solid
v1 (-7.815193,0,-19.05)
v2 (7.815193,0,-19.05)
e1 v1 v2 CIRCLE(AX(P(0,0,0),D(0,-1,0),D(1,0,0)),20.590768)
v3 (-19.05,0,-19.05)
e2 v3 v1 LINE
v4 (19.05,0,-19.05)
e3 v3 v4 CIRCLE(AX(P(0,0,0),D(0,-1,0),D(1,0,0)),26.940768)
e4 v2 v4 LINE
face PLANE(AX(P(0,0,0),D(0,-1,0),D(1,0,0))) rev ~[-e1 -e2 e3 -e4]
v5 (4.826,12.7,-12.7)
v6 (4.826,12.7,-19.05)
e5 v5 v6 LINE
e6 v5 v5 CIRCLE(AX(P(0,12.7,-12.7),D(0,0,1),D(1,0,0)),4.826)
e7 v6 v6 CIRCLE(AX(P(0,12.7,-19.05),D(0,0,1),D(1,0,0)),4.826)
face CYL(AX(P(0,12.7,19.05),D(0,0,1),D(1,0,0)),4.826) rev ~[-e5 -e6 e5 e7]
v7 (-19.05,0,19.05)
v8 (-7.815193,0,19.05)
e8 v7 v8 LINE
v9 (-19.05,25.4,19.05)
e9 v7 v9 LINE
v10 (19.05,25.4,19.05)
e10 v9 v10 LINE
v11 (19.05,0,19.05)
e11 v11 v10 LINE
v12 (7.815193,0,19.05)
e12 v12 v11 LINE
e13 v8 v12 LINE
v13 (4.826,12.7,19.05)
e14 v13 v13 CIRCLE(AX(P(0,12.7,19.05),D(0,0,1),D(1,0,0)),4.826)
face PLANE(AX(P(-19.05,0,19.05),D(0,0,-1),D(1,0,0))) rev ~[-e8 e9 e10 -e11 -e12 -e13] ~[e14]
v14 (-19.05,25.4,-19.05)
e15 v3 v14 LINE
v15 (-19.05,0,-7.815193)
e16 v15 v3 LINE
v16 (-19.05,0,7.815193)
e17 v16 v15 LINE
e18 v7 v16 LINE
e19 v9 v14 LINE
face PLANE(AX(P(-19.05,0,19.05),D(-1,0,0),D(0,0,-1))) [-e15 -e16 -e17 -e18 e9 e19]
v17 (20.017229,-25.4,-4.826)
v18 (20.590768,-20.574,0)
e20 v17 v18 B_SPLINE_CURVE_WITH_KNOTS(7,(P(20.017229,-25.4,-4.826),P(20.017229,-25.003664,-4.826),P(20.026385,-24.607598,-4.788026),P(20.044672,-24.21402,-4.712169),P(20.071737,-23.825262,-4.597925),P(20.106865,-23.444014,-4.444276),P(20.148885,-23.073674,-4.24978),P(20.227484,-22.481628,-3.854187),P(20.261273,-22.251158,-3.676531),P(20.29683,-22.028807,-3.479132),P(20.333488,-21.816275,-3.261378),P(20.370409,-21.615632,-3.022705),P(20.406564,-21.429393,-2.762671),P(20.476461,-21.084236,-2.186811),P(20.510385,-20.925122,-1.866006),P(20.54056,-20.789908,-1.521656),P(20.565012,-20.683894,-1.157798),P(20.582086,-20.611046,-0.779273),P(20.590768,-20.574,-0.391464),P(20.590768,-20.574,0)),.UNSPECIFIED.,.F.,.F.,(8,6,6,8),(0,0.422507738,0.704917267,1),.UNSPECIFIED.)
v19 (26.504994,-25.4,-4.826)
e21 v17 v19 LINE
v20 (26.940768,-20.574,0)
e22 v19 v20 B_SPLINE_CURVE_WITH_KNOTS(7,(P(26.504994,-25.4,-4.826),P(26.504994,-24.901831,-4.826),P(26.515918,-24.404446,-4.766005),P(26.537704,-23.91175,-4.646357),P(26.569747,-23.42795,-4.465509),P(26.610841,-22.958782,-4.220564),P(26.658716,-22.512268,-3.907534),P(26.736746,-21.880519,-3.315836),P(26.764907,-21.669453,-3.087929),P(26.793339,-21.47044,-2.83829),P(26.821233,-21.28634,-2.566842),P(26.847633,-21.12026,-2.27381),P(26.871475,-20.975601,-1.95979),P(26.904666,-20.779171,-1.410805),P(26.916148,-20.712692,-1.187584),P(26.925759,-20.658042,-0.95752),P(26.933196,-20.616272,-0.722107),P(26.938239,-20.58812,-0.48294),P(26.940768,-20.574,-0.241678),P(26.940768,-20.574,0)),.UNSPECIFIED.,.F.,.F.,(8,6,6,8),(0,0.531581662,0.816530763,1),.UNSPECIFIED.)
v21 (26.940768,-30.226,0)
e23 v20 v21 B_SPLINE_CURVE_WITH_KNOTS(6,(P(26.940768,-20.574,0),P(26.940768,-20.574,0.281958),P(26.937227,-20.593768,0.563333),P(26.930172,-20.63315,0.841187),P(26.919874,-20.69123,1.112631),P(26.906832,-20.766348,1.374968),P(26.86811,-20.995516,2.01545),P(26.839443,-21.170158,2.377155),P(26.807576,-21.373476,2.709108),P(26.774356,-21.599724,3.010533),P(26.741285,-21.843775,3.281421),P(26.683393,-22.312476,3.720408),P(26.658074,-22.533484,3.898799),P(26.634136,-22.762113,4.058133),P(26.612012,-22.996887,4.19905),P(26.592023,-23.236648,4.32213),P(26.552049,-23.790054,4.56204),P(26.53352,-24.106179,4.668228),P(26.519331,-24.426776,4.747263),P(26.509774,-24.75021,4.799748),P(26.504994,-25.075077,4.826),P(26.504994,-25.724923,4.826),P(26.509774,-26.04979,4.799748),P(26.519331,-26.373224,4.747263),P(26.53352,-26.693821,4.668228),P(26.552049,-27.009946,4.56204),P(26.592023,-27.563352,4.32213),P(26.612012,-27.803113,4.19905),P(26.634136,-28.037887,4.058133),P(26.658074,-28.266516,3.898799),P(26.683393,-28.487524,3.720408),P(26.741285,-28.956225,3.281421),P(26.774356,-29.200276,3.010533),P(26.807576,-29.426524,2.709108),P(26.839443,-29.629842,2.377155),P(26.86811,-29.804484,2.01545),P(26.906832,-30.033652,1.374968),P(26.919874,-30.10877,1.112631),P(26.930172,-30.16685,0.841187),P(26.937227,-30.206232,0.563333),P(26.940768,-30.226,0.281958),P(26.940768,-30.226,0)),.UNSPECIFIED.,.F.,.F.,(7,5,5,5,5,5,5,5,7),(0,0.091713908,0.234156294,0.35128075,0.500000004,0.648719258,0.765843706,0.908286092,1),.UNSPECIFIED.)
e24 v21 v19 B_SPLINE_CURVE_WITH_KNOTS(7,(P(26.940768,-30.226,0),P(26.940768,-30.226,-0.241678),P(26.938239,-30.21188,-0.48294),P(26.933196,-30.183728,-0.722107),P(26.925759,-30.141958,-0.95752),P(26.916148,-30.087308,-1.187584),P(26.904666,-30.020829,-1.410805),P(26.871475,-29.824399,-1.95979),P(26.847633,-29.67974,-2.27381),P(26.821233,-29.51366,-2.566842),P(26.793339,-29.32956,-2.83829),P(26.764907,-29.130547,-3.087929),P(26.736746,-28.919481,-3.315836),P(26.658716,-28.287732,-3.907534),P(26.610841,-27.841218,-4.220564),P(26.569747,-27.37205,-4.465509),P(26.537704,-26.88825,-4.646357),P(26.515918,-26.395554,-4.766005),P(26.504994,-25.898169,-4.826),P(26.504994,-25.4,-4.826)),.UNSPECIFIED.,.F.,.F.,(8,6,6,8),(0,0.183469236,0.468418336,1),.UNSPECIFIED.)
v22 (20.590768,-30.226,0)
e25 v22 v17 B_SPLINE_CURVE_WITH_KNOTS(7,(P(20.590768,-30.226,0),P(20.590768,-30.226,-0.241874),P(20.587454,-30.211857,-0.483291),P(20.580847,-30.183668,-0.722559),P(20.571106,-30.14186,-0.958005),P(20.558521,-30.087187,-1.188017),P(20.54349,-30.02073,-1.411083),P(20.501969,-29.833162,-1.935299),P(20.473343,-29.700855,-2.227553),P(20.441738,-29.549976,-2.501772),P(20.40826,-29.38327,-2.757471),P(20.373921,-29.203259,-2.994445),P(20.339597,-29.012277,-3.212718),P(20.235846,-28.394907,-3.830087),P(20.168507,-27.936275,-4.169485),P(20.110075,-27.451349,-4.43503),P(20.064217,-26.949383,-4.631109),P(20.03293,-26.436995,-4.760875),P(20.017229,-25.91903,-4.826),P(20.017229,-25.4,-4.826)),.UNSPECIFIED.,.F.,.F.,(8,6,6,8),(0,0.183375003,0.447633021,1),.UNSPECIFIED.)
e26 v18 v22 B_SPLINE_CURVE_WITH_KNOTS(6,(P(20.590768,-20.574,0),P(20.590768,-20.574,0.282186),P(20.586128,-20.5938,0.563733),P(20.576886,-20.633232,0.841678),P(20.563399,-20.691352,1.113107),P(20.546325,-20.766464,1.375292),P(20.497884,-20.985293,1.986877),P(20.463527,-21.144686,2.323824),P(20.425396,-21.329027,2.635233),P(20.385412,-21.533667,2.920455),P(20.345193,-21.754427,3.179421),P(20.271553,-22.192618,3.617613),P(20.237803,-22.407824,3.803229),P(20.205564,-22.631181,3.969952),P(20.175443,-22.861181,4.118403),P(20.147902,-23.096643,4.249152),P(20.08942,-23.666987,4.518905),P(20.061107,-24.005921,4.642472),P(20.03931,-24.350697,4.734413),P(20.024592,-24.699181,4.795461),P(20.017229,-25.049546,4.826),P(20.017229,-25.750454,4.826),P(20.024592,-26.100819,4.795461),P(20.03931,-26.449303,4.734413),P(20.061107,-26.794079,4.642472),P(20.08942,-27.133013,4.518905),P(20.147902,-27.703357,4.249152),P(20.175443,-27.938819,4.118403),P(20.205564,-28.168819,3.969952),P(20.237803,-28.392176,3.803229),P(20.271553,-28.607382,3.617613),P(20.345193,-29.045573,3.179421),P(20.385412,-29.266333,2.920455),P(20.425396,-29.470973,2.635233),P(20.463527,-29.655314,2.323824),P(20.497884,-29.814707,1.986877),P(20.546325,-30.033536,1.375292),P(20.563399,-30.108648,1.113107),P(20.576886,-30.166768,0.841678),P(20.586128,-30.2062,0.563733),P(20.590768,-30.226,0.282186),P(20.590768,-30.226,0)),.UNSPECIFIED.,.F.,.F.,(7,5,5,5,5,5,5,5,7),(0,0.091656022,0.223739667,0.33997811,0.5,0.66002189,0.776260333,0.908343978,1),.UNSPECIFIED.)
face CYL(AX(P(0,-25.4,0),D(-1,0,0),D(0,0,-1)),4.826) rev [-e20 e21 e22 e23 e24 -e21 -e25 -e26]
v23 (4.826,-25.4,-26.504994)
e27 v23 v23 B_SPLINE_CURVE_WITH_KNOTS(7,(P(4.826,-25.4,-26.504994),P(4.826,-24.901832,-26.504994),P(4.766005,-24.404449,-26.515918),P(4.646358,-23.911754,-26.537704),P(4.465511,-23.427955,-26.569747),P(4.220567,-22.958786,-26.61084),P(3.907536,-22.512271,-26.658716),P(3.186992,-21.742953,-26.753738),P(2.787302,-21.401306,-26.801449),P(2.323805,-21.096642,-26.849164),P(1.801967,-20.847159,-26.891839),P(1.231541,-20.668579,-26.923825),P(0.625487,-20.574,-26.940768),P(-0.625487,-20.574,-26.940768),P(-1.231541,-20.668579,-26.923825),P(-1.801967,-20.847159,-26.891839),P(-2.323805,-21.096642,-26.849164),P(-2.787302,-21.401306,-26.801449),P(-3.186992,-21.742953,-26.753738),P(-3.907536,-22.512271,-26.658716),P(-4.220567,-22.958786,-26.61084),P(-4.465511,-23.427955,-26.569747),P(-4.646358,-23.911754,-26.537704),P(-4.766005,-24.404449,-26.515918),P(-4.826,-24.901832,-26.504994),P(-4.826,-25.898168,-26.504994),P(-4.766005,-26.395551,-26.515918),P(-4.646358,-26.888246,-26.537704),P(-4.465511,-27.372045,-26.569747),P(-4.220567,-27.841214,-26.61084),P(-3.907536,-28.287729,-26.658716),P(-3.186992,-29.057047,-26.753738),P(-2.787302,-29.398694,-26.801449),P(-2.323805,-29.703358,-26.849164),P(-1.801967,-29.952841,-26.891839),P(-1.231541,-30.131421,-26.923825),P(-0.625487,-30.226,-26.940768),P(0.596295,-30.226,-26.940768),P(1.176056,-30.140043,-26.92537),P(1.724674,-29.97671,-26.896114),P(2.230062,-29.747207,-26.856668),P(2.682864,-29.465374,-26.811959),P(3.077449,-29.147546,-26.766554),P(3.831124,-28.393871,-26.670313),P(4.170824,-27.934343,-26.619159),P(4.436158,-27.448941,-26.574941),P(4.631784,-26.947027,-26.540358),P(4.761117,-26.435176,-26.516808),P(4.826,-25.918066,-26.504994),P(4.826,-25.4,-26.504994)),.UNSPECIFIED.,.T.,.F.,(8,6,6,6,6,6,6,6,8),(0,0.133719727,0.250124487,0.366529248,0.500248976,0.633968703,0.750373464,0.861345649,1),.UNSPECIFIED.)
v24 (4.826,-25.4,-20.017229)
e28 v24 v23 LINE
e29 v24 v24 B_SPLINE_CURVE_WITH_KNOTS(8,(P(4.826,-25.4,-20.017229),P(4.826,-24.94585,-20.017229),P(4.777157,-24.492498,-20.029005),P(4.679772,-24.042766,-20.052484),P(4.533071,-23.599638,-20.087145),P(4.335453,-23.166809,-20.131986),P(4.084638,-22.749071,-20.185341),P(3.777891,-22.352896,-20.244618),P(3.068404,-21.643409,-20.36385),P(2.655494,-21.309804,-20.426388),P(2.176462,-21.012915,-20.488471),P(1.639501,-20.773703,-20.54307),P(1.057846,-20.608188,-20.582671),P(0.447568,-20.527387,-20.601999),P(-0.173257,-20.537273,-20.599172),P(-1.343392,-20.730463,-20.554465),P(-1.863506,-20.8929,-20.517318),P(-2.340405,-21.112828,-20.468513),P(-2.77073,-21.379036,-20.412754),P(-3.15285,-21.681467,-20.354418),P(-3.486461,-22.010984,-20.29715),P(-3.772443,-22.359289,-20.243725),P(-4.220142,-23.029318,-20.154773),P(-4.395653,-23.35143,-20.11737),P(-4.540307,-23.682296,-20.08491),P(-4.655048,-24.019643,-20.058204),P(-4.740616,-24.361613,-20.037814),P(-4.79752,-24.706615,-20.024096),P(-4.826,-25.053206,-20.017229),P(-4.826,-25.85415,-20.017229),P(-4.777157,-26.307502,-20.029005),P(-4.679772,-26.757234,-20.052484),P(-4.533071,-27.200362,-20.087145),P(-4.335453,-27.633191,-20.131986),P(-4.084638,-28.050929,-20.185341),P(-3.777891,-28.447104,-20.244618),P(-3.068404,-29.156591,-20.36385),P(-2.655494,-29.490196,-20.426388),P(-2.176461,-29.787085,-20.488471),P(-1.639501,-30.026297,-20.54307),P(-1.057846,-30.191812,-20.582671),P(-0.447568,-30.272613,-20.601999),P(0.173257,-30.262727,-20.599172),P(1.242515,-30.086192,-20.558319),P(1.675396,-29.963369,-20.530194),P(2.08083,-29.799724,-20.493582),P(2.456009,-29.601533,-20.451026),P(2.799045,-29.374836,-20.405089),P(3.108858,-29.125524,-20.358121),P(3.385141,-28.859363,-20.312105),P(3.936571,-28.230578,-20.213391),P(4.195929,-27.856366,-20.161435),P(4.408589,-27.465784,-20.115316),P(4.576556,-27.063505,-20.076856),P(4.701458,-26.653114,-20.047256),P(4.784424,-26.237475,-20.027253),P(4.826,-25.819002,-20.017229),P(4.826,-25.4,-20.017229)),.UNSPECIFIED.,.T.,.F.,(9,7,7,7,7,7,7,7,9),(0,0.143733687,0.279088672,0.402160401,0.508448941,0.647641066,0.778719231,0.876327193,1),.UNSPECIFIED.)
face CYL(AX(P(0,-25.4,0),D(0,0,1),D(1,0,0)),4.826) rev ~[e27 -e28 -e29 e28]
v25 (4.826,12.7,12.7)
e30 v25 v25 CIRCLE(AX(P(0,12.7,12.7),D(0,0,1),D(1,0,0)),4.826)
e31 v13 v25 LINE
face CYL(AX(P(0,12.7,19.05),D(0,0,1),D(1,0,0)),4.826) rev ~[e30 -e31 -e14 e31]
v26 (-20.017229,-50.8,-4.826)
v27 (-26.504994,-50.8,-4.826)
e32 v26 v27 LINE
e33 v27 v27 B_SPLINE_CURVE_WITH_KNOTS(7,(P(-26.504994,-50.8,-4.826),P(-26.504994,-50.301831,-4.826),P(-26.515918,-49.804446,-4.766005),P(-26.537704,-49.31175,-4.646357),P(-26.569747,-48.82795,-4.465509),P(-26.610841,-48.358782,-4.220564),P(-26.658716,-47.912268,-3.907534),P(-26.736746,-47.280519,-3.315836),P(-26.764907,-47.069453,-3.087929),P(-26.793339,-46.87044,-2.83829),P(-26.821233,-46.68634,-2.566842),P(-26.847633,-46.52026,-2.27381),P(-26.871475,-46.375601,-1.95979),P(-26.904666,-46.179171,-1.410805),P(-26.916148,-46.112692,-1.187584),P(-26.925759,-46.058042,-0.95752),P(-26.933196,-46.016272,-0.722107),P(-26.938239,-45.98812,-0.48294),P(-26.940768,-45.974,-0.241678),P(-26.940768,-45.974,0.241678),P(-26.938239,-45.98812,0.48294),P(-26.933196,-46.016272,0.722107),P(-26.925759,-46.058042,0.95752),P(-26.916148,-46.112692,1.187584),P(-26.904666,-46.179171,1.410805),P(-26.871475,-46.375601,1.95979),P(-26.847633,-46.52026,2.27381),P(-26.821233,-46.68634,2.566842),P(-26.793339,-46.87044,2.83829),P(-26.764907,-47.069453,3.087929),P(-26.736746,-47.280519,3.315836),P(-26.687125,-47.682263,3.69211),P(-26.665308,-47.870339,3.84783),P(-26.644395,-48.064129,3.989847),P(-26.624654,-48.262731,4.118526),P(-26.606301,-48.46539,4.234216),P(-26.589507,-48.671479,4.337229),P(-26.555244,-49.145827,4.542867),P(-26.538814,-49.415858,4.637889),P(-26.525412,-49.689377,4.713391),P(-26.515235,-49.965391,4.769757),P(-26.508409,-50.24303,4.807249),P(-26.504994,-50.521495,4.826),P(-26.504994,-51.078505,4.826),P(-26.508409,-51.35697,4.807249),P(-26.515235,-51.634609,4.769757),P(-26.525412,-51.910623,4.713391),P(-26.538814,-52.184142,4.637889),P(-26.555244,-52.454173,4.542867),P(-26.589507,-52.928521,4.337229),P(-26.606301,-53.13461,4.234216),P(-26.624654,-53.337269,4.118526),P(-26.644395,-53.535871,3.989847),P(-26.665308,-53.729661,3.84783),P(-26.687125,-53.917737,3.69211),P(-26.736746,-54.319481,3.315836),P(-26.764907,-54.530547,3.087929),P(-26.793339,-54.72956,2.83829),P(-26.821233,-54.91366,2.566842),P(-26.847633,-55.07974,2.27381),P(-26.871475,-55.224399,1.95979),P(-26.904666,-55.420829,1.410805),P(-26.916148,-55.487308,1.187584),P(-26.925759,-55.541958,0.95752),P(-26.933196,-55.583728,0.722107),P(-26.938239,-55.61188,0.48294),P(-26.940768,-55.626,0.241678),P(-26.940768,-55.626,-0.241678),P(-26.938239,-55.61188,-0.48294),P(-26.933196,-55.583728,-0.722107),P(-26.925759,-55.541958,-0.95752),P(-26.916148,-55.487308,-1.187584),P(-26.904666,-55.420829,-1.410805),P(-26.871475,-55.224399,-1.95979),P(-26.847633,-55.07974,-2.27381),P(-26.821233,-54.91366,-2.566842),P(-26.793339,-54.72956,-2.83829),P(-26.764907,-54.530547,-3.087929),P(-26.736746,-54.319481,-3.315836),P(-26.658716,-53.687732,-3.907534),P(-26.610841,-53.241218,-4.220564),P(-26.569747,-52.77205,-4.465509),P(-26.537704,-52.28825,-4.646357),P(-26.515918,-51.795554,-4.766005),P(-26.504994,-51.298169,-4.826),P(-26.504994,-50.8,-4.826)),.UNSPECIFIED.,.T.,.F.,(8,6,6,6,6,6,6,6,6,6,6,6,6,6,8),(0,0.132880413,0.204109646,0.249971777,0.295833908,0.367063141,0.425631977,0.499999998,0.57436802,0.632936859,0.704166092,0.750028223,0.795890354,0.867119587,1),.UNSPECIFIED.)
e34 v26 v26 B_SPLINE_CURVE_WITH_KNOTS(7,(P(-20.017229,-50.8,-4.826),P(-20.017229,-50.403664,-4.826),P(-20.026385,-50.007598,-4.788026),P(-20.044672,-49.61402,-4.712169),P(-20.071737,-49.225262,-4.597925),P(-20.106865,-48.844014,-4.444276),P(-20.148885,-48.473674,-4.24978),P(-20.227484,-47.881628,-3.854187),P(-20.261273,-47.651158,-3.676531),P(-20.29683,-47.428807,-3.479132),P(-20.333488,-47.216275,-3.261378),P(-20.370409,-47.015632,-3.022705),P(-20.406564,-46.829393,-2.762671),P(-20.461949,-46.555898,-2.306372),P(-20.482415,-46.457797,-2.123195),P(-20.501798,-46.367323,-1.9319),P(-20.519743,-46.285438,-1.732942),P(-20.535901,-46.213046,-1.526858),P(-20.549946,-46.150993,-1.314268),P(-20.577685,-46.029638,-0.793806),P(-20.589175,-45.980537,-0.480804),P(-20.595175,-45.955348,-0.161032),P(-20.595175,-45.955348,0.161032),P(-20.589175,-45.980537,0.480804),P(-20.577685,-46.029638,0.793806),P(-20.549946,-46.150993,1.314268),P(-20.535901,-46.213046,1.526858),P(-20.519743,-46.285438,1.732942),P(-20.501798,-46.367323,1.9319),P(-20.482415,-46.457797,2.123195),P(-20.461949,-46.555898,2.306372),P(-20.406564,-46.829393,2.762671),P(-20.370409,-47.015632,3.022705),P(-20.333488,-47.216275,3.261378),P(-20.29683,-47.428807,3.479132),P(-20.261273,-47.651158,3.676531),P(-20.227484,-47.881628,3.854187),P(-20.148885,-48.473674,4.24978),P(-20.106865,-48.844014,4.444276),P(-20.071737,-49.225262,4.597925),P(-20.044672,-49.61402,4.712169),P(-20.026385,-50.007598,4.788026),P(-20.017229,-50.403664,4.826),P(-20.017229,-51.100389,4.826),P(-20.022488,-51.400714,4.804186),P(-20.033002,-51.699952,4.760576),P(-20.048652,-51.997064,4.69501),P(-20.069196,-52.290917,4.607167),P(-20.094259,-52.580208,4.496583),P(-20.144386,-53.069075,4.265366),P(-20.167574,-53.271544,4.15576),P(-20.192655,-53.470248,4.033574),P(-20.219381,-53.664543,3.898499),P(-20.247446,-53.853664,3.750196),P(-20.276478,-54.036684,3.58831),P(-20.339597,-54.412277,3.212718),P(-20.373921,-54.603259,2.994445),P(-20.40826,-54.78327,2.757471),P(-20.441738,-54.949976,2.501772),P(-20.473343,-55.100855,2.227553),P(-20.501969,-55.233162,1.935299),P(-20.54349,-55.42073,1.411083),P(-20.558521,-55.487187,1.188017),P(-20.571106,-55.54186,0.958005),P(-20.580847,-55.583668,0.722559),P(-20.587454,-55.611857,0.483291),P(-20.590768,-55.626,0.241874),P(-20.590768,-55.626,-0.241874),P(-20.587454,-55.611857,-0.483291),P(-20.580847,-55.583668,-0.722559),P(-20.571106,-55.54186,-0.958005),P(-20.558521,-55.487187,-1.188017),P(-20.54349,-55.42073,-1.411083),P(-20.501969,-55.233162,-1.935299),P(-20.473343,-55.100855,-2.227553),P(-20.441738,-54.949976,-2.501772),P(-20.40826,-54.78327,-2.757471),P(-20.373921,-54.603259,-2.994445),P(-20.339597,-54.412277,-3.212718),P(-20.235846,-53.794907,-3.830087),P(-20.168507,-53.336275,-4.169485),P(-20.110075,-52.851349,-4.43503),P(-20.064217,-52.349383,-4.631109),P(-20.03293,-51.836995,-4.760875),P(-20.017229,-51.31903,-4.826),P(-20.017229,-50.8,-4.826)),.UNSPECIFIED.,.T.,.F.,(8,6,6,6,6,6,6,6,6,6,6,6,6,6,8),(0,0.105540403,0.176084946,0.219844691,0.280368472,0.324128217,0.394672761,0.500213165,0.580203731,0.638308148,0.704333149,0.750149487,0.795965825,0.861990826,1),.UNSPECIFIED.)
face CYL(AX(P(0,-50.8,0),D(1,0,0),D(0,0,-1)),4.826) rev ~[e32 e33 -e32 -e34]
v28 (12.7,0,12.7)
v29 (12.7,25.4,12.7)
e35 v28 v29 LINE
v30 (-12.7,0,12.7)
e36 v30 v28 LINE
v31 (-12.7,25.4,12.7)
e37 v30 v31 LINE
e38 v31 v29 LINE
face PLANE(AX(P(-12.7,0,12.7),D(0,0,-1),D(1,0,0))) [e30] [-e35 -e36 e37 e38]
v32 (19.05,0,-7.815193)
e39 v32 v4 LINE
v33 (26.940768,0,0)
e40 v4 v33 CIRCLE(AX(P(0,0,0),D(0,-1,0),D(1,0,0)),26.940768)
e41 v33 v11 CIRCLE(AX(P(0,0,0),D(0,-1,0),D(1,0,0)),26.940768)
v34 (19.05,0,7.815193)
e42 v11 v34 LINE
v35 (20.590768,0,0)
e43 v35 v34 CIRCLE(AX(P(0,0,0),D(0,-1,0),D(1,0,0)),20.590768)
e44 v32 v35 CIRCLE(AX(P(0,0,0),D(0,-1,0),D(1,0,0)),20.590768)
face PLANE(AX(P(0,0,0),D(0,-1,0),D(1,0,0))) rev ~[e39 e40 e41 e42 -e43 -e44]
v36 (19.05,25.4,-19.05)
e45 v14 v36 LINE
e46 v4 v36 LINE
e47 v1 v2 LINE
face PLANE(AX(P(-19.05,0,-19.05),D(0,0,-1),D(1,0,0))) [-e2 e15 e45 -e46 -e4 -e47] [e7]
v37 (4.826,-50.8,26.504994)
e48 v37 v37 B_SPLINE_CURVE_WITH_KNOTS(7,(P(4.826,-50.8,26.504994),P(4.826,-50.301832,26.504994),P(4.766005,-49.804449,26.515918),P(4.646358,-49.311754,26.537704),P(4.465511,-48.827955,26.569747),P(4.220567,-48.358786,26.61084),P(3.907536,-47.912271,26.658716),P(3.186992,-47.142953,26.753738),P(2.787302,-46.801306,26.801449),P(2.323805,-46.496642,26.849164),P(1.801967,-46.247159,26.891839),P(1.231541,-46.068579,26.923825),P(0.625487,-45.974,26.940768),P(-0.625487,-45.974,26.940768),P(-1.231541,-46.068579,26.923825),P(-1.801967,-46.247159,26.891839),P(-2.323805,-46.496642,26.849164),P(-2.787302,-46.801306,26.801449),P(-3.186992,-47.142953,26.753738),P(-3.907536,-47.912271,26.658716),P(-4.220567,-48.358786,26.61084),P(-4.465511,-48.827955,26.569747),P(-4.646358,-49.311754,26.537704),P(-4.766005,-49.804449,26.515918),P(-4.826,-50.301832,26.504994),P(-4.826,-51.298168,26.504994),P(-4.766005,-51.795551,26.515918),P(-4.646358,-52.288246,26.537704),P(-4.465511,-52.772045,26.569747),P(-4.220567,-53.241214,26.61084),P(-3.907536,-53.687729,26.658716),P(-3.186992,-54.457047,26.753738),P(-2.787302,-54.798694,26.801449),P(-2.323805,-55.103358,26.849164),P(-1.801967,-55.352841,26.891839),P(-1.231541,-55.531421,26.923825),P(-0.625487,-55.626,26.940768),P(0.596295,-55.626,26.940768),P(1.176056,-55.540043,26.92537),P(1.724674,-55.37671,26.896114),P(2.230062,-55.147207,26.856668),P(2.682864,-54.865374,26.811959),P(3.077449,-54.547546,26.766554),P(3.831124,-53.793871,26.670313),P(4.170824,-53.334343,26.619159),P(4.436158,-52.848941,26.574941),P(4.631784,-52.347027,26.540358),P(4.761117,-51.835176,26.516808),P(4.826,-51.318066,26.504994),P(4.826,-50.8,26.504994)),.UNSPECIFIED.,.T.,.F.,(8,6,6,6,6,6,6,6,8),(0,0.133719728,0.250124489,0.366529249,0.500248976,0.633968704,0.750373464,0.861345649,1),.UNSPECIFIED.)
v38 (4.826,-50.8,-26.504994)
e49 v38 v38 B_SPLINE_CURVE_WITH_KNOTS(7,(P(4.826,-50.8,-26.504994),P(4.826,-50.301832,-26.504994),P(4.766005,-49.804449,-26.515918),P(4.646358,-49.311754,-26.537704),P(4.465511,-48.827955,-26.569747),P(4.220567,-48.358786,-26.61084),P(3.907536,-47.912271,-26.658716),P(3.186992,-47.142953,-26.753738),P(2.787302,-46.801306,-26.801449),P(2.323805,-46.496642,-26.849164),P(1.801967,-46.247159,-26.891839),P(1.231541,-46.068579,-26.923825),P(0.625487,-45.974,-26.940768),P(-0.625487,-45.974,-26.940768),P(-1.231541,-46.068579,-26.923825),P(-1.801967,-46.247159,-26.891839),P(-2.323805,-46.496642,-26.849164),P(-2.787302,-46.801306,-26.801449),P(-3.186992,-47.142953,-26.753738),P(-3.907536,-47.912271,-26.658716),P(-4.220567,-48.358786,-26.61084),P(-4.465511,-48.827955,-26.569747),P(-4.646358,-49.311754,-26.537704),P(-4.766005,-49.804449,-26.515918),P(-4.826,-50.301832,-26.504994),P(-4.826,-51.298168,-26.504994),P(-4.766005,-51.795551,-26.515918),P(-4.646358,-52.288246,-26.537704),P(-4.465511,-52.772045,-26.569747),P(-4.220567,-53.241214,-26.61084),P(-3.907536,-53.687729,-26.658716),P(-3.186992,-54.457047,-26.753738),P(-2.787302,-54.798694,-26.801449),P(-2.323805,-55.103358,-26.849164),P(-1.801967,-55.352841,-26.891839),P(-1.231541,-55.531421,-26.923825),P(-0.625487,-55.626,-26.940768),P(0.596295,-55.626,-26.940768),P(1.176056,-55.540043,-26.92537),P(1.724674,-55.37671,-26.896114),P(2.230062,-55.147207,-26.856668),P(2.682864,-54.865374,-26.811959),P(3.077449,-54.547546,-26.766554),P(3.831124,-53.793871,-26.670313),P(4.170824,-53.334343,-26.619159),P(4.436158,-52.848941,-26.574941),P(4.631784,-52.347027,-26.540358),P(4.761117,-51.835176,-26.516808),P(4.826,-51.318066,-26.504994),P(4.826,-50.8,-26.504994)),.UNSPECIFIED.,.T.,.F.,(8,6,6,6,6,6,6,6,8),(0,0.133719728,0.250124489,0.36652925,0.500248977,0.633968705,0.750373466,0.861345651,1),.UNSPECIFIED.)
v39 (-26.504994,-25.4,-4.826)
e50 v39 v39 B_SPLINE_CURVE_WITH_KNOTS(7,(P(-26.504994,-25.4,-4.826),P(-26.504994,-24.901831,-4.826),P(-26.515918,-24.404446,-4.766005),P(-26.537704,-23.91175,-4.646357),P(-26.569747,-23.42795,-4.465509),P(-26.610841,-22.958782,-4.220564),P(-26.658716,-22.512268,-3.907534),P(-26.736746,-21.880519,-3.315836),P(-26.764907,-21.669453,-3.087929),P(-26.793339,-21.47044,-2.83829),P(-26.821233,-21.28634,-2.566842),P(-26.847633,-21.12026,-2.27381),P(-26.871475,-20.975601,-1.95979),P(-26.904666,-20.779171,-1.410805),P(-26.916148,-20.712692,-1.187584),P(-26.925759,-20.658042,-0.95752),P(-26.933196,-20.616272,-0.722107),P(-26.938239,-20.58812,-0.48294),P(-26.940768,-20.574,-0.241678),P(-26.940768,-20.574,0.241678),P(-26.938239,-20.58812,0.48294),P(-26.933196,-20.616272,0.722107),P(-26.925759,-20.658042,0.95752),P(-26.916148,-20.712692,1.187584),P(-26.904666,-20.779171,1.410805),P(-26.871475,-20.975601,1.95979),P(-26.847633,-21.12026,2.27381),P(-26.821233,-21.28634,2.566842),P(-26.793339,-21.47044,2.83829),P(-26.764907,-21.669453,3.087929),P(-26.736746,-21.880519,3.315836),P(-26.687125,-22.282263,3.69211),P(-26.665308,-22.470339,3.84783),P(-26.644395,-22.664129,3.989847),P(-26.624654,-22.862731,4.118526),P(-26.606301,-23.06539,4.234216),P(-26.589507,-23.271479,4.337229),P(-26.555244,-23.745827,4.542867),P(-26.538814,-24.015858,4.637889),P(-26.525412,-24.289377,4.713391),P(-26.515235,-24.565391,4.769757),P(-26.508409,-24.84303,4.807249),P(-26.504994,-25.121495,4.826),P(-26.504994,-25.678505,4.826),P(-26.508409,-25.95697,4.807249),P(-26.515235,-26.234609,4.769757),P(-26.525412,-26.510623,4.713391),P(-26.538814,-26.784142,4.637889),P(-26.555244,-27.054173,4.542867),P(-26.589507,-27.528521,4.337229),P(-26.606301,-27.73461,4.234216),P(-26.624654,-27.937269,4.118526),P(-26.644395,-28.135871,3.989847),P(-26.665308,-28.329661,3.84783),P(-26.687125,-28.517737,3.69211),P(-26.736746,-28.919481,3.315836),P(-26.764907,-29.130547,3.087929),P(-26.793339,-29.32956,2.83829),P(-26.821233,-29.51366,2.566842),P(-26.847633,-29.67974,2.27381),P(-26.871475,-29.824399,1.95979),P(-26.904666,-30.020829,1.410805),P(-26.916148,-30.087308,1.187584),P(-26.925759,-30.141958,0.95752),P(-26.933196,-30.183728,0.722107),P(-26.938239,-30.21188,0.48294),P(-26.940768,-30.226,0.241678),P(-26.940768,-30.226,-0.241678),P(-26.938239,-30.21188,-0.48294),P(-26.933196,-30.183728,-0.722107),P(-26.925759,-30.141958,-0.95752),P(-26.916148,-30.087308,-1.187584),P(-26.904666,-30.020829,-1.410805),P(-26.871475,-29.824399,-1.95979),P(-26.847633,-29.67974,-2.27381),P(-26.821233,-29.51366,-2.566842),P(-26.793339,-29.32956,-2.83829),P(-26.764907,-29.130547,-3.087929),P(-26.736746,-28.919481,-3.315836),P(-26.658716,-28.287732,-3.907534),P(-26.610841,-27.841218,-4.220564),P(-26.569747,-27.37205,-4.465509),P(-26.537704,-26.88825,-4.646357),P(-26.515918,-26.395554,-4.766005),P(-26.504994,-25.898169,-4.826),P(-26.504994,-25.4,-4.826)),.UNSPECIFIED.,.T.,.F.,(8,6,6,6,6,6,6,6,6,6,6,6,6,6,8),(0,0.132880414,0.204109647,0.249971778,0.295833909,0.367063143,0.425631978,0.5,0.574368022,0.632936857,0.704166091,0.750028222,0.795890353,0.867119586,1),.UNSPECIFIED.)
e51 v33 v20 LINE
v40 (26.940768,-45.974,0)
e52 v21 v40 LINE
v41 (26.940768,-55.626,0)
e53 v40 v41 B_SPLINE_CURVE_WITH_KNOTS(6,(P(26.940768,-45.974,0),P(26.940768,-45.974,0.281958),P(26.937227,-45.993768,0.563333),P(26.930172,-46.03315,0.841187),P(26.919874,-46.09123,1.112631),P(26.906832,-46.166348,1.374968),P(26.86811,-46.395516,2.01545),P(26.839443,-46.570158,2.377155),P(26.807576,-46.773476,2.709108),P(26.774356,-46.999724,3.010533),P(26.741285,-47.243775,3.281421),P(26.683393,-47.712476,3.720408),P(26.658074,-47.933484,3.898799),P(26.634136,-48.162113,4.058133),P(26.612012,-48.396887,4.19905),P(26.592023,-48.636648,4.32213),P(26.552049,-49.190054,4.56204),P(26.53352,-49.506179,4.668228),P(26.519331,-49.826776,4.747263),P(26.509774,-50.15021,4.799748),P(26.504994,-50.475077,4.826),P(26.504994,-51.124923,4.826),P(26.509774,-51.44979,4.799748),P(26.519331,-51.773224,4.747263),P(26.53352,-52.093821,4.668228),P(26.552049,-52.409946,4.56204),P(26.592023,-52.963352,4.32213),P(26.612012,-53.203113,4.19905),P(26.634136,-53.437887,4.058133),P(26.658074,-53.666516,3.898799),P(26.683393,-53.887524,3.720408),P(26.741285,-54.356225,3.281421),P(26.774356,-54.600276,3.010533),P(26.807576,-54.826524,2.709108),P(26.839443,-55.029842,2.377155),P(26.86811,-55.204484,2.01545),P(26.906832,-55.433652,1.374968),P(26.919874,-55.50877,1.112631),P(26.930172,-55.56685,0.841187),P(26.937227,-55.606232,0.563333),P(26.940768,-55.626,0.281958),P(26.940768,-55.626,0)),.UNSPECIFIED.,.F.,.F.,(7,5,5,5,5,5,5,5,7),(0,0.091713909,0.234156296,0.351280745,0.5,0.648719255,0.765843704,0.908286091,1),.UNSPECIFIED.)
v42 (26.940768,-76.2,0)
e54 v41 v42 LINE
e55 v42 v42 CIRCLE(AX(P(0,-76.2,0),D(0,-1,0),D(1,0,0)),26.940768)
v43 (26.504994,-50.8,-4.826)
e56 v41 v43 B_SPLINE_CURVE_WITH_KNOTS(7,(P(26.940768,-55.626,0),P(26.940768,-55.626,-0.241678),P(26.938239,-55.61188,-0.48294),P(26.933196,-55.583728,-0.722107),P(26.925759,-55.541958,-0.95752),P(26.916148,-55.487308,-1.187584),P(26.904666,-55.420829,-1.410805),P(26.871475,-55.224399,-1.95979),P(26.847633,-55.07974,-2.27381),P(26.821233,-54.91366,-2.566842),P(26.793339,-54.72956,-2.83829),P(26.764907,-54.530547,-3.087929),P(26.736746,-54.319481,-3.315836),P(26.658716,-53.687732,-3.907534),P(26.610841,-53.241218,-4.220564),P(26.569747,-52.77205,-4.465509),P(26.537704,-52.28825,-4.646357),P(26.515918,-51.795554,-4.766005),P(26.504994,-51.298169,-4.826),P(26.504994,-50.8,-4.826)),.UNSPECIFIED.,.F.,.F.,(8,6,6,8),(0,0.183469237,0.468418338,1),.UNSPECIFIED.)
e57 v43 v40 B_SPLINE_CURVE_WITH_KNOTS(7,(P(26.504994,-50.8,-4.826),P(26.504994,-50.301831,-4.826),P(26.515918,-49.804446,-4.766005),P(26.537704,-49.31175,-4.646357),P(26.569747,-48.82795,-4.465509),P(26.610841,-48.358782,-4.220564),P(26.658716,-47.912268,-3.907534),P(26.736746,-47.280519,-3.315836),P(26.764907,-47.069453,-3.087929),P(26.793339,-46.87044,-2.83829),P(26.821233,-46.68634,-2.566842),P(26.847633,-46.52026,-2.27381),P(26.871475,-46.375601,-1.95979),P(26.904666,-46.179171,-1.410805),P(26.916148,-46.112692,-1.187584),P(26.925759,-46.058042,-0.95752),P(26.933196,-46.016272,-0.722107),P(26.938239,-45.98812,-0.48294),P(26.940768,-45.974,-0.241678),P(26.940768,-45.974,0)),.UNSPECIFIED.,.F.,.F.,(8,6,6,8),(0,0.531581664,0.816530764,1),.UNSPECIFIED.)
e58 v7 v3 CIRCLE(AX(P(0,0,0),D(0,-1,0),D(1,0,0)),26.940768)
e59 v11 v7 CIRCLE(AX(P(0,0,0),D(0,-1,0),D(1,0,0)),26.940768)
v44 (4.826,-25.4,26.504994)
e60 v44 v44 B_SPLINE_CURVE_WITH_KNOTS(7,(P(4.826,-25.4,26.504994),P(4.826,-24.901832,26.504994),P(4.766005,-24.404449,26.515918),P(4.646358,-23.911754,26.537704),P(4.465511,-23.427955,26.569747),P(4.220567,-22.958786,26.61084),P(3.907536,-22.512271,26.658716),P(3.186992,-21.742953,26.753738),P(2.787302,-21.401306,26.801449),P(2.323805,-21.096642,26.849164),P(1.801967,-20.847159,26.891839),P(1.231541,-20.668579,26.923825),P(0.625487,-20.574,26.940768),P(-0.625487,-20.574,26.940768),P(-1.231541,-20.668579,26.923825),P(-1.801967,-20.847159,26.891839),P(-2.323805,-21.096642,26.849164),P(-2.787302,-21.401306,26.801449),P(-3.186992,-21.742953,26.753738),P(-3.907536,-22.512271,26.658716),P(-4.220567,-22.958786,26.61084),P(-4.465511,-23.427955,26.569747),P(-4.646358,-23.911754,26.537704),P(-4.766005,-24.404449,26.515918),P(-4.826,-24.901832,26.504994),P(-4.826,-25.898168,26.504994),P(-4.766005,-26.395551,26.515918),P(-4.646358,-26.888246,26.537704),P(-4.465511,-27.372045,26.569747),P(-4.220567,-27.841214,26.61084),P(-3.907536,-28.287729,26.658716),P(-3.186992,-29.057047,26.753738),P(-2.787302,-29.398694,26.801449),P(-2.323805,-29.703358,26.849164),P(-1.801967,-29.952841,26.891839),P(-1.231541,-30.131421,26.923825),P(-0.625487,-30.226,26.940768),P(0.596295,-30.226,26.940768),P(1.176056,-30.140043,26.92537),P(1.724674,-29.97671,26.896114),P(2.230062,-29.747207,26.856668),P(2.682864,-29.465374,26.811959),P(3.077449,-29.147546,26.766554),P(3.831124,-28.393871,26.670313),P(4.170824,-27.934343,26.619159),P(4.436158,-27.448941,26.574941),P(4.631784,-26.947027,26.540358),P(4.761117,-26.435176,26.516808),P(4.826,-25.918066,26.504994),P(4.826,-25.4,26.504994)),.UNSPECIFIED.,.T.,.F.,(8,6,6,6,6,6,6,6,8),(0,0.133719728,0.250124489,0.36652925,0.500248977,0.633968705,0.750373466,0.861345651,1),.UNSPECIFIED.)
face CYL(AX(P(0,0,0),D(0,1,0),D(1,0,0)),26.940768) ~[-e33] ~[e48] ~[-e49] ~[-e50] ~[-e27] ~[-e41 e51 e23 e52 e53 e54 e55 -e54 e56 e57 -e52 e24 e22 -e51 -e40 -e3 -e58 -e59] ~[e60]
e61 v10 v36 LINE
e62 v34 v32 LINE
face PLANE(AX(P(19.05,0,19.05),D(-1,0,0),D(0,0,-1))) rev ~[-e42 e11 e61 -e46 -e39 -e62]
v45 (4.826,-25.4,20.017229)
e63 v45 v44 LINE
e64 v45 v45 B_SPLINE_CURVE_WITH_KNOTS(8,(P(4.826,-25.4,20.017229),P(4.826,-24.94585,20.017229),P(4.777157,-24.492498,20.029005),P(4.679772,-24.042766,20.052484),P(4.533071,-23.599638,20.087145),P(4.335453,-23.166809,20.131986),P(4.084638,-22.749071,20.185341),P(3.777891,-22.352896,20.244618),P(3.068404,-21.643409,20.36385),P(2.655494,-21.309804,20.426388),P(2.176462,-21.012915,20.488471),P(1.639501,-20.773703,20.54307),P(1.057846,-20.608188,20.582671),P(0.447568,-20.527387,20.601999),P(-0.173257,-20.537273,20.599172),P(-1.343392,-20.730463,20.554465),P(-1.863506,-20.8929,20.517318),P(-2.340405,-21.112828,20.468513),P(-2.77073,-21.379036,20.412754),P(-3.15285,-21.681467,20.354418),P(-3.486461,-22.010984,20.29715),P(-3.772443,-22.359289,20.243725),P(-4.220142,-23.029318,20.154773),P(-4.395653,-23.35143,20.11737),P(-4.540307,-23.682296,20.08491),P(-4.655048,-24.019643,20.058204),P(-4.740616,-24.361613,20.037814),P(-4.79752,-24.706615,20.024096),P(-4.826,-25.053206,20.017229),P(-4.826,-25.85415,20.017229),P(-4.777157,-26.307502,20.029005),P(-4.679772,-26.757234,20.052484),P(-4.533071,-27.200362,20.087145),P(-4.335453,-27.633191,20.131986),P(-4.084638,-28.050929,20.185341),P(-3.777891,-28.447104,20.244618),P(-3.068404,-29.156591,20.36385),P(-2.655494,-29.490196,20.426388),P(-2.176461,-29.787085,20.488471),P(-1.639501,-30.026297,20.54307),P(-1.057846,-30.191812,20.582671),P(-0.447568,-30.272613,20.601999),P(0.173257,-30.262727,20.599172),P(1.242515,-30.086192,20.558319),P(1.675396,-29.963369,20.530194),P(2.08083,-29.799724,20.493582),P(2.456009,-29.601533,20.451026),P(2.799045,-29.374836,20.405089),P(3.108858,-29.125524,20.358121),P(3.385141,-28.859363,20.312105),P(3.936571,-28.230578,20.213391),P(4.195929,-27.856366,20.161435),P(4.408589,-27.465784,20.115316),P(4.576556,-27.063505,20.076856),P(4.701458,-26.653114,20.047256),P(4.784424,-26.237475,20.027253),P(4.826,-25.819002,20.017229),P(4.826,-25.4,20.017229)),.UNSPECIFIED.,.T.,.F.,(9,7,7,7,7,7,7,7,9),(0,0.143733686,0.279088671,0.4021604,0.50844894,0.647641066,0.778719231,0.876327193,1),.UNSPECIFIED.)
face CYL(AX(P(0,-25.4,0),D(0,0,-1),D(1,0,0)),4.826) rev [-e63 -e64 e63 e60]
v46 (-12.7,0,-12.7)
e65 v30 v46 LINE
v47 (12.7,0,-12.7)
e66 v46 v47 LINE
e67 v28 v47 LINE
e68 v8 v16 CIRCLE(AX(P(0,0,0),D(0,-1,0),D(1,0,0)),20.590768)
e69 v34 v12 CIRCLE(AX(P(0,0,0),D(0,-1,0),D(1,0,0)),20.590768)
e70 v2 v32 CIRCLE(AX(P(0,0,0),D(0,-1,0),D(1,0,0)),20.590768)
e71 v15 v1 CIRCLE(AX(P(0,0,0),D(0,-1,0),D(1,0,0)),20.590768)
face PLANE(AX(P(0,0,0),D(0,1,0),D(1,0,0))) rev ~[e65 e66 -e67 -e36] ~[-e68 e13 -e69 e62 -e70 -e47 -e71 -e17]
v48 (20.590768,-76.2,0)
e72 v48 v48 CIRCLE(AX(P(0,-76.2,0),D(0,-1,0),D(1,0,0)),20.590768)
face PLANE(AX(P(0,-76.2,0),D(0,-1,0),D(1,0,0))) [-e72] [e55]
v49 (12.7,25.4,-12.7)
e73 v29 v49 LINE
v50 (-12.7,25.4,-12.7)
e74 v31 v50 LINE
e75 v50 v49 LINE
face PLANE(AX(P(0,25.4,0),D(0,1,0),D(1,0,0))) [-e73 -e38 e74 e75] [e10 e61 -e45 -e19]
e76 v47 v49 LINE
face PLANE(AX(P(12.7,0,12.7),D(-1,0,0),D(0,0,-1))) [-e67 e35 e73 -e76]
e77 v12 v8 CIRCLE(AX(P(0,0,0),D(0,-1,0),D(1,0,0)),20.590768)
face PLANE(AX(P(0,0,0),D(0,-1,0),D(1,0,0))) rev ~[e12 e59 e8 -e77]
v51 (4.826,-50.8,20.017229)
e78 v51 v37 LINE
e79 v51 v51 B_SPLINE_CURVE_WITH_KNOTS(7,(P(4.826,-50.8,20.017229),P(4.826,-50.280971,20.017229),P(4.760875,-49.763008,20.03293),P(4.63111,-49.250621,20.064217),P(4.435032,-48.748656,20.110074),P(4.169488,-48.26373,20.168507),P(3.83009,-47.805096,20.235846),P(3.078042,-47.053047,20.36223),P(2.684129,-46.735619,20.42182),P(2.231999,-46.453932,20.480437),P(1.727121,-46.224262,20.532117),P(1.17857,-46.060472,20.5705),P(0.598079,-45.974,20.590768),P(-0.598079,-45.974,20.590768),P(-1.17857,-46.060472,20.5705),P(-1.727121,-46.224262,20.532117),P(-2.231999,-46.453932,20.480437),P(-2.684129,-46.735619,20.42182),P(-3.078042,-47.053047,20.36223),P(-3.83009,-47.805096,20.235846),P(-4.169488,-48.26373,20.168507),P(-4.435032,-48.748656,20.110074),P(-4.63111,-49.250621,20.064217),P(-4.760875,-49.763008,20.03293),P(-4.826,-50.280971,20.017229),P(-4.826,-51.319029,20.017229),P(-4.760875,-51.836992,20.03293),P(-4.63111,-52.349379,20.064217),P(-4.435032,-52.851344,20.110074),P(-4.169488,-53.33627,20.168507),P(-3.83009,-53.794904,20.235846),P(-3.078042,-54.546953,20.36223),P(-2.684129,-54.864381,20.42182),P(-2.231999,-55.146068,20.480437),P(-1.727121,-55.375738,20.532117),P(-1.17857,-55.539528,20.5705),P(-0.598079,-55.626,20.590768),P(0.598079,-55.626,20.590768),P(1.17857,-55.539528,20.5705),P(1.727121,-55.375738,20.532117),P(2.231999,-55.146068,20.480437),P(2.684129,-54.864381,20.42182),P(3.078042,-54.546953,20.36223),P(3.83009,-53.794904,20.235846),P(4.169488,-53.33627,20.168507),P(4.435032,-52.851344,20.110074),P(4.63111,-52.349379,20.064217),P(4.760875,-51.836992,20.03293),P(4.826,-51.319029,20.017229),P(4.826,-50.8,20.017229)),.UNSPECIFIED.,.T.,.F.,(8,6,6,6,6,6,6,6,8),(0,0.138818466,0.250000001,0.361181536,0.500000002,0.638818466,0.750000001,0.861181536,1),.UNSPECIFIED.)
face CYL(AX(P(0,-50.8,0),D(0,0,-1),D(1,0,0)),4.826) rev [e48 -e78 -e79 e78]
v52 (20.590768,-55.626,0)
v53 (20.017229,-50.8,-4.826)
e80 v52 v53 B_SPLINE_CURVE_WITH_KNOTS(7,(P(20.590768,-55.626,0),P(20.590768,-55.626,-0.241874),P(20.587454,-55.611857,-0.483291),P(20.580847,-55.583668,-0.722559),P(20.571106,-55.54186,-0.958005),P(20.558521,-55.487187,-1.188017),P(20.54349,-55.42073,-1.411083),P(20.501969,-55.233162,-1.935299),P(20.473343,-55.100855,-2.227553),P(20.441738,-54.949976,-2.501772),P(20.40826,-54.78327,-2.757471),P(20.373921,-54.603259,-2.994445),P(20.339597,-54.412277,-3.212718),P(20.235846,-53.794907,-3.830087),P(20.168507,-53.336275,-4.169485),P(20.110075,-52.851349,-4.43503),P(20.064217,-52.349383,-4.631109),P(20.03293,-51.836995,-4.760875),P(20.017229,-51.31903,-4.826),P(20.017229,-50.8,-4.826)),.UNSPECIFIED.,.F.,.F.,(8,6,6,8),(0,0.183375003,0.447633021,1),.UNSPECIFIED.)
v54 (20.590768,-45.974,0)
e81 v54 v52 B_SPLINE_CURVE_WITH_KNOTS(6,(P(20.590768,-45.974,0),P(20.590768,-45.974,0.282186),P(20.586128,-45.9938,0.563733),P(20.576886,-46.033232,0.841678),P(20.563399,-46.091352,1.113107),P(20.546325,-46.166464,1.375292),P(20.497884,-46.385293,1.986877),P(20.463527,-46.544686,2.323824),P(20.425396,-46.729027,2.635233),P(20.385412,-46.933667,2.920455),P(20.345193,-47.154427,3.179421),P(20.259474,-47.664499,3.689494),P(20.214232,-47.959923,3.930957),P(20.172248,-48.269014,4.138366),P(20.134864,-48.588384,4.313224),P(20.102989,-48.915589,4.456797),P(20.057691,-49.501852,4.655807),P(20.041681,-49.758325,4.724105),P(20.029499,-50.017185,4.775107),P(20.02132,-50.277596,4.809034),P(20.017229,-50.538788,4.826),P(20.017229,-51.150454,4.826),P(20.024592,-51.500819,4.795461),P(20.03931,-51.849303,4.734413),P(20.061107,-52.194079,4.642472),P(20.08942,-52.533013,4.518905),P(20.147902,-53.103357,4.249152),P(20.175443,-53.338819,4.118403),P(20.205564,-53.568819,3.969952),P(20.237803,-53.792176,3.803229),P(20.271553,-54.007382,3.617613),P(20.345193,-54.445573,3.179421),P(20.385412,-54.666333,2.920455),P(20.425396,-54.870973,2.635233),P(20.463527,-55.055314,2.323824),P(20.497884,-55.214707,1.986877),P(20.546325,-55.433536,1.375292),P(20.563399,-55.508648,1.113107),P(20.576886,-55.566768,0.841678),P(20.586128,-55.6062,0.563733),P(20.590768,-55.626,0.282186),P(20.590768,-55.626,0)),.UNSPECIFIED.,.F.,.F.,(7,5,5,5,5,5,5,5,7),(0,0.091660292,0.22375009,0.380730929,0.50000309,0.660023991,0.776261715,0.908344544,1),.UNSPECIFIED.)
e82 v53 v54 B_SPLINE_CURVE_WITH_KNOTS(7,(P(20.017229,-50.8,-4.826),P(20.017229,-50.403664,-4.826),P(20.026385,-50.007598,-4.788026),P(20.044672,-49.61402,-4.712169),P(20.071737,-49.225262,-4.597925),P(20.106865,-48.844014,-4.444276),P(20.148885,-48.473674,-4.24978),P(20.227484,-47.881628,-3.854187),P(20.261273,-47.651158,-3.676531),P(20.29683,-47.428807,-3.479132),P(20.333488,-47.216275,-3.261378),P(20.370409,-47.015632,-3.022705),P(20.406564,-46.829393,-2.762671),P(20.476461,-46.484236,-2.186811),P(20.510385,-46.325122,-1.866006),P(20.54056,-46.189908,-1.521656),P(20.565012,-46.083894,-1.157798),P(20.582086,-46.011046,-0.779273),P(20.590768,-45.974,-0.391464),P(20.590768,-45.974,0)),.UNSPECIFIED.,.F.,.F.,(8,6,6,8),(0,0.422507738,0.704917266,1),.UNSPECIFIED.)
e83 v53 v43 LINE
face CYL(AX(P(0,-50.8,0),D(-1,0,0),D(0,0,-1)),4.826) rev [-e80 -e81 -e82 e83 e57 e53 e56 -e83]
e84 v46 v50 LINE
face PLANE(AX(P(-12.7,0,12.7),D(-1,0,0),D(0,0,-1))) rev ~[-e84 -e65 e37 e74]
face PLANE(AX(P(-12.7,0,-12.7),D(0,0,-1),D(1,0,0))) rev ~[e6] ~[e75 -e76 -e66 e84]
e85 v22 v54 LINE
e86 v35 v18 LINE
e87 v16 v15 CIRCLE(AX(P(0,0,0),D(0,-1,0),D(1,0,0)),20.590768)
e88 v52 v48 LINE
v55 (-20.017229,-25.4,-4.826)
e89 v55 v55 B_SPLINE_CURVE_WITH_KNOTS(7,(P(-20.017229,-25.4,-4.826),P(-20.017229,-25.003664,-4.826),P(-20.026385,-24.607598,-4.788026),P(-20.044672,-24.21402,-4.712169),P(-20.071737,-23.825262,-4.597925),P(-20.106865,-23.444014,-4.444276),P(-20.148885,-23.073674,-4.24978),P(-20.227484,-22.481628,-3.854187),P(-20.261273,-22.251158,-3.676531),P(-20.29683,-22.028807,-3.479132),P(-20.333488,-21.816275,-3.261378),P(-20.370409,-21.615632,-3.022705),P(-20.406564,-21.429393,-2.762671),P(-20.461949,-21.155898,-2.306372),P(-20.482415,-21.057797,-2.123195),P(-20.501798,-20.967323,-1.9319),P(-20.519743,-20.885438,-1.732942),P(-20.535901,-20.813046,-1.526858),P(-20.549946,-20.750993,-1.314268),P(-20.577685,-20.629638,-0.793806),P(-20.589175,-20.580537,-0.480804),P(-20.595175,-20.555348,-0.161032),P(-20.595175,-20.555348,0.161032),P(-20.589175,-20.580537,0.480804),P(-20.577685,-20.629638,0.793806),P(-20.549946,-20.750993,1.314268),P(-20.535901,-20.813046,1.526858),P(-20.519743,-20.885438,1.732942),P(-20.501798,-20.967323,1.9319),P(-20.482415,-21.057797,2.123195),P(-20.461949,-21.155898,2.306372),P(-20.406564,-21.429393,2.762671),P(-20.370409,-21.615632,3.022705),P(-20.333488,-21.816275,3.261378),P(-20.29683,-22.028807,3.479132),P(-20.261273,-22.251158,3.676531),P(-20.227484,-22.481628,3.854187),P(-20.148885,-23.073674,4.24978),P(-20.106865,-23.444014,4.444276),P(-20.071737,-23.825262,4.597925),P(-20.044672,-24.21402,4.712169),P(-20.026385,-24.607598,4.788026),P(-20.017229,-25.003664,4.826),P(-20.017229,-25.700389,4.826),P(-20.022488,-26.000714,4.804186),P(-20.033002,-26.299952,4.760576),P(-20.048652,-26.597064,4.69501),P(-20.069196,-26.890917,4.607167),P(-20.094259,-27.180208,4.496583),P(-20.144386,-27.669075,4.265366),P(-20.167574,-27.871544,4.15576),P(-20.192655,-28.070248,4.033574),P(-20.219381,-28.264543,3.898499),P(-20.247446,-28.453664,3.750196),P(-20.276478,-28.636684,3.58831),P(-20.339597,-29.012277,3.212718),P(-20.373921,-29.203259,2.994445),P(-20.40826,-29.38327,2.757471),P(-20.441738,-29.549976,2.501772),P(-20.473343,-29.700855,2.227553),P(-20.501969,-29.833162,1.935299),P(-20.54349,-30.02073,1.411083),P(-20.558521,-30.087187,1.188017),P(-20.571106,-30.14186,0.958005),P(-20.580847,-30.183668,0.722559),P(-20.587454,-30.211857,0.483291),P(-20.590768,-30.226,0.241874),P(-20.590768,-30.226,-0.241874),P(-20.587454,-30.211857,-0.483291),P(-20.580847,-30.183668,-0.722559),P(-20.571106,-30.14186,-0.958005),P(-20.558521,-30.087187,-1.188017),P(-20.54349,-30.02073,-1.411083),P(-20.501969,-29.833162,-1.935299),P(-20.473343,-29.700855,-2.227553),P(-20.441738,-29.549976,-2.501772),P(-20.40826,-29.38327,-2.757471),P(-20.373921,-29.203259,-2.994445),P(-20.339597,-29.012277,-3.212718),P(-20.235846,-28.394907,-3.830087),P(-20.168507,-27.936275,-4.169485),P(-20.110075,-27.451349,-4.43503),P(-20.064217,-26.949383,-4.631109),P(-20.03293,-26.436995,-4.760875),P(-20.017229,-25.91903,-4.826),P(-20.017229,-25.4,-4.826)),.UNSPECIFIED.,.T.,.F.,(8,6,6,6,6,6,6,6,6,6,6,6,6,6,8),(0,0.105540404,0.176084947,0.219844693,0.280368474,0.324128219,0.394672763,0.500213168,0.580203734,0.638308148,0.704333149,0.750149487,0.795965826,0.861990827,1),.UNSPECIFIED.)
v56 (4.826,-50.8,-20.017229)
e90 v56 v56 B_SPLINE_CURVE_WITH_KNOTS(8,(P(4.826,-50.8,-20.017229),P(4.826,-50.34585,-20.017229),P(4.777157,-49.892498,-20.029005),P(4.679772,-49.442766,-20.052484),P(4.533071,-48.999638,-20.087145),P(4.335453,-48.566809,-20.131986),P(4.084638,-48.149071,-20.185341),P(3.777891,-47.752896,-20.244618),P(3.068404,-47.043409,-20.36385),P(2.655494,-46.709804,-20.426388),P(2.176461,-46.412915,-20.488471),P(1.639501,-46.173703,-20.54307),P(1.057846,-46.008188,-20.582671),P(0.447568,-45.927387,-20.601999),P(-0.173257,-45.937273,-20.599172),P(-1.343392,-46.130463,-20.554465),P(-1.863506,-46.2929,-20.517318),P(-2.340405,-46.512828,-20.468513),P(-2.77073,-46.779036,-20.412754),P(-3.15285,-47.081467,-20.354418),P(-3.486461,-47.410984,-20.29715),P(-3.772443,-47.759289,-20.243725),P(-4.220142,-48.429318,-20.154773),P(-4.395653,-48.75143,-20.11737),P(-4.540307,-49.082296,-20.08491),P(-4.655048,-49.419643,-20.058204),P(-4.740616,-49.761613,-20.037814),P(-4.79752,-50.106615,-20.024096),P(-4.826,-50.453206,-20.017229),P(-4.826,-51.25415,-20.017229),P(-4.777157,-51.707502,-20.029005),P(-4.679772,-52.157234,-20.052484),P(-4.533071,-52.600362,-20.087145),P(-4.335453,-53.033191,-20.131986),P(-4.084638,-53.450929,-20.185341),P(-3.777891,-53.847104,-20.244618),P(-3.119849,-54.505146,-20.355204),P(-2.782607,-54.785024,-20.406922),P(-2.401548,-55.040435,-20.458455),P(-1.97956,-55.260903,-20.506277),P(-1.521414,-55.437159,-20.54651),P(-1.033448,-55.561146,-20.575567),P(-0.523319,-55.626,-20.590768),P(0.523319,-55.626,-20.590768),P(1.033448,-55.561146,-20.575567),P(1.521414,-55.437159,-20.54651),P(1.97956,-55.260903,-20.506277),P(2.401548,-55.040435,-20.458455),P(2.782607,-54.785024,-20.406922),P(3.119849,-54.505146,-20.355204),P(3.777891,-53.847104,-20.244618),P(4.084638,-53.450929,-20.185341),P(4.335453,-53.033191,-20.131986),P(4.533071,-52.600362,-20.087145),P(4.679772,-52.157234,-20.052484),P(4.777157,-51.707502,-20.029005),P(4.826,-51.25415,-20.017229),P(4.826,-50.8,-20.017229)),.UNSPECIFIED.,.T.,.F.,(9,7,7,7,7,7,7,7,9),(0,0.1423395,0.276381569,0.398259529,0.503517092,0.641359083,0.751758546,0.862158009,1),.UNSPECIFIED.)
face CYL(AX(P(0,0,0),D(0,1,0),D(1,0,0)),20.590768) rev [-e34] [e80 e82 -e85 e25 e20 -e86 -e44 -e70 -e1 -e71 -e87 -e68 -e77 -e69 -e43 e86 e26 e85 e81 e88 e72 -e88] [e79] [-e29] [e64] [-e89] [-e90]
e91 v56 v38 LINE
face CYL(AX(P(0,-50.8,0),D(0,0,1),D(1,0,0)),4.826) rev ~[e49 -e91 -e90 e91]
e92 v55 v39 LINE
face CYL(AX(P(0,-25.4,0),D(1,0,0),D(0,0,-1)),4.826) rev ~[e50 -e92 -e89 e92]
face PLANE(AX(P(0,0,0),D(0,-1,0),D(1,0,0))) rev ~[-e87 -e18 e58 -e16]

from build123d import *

# Parameters (mm, degrees)
SKETCH2_W               = 38.1
SKETCH2_H               = 38.1
SKETCH2_W_2             = 25.4
SKETCH2_H_2             = 25.4
BOSS_EXTRUDE1_DEPTH     = 25.4
SKETCH3_R               = 26.940768363
SKETCH3_R_2             = 20.590768363
BOSS_EXTRUDE2_DEPTH     = 76.2
SKETCH4_R               = 4.826
CUT_EXTRUDE1_DEPTH      = 50.8
SKETCH5_R               = 4.826
CUT_EXTRUDE2_DEPTH      = 27.940768363
CUT_EXTRUDE2_DEPTH_BACK = 27.940768363
SKETCH6_R               = 4.826
CUT_EXTRUDE3_DEPTH      = 27.940768463
CUT_EXTRUDE3_DEPTH_BACK = 27.940768463


with BuildPart() as part:
    # Sketch2 → Boss-Extrude1 (new body)
    with BuildSketch(Plane(origin=(0, 0, 0), x_dir=(1, 0, 0), z_dir=(0, 1, 0))):
        Rectangle(SKETCH2_W, SKETCH2_H)
        Rectangle(SKETCH2_W_2, SKETCH2_H_2, mode=Mode.SUBTRACT)
    extrude(amount=BOSS_EXTRUDE1_DEPTH)

    # Sketch3 → Boss-Extrude2 (add)
    with BuildSketch(Plane.XZ):
        Circle(SKETCH3_R)
        Circle(SKETCH3_R_2, mode=Mode.SUBTRACT)
    extrude(amount=BOSS_EXTRUDE2_DEPTH)

    # Sketch4 → Cut-Extrude1 (cut)
    with BuildSketch(Plane.XY.offset(19.05)):
        with Locations((0, 12.7)):
            Circle(SKETCH4_R)
    extrude(amount=-CUT_EXTRUDE1_DEPTH, mode=Mode.SUBTRACT)

    # Sketch5 → Cut-Extrude2 (cut, two sides)
    with BuildSketch(Plane.XY) as cut_extrude2_sk:
        with Locations((0, -25.4)):
            Circle(SKETCH5_R)
        with Locations((0, -50.8)):
            Circle(SKETCH5_R)
    extrude(amount=CUT_EXTRUDE2_DEPTH, mode=Mode.SUBTRACT)
    extrude(cut_extrude2_sk.sketch, amount=-CUT_EXTRUDE2_DEPTH_BACK, mode=Mode.SUBTRACT)

    # Sketch6 → Cut-Extrude3 (cut, two sides)
    with BuildSketch(Plane(origin=(0, 0, 0), x_dir=(0, 0, -1), z_dir=(1, 0, 0))) as cut_extrude3_sk:
        with Locations((0, -50.8)):
            Circle(SKETCH6_R)
        with Locations((0, -25.4)):
            Circle(SKETCH6_R)
    extrude(amount=CUT_EXTRUDE3_DEPTH, mode=Mode.SUBTRACT)
    extrude(cut_extrude3_sk.sketch, amount=-CUT_EXTRUDE3_DEPTH_BACK, mode=Mode.SUBTRACT)


solid = part.part
